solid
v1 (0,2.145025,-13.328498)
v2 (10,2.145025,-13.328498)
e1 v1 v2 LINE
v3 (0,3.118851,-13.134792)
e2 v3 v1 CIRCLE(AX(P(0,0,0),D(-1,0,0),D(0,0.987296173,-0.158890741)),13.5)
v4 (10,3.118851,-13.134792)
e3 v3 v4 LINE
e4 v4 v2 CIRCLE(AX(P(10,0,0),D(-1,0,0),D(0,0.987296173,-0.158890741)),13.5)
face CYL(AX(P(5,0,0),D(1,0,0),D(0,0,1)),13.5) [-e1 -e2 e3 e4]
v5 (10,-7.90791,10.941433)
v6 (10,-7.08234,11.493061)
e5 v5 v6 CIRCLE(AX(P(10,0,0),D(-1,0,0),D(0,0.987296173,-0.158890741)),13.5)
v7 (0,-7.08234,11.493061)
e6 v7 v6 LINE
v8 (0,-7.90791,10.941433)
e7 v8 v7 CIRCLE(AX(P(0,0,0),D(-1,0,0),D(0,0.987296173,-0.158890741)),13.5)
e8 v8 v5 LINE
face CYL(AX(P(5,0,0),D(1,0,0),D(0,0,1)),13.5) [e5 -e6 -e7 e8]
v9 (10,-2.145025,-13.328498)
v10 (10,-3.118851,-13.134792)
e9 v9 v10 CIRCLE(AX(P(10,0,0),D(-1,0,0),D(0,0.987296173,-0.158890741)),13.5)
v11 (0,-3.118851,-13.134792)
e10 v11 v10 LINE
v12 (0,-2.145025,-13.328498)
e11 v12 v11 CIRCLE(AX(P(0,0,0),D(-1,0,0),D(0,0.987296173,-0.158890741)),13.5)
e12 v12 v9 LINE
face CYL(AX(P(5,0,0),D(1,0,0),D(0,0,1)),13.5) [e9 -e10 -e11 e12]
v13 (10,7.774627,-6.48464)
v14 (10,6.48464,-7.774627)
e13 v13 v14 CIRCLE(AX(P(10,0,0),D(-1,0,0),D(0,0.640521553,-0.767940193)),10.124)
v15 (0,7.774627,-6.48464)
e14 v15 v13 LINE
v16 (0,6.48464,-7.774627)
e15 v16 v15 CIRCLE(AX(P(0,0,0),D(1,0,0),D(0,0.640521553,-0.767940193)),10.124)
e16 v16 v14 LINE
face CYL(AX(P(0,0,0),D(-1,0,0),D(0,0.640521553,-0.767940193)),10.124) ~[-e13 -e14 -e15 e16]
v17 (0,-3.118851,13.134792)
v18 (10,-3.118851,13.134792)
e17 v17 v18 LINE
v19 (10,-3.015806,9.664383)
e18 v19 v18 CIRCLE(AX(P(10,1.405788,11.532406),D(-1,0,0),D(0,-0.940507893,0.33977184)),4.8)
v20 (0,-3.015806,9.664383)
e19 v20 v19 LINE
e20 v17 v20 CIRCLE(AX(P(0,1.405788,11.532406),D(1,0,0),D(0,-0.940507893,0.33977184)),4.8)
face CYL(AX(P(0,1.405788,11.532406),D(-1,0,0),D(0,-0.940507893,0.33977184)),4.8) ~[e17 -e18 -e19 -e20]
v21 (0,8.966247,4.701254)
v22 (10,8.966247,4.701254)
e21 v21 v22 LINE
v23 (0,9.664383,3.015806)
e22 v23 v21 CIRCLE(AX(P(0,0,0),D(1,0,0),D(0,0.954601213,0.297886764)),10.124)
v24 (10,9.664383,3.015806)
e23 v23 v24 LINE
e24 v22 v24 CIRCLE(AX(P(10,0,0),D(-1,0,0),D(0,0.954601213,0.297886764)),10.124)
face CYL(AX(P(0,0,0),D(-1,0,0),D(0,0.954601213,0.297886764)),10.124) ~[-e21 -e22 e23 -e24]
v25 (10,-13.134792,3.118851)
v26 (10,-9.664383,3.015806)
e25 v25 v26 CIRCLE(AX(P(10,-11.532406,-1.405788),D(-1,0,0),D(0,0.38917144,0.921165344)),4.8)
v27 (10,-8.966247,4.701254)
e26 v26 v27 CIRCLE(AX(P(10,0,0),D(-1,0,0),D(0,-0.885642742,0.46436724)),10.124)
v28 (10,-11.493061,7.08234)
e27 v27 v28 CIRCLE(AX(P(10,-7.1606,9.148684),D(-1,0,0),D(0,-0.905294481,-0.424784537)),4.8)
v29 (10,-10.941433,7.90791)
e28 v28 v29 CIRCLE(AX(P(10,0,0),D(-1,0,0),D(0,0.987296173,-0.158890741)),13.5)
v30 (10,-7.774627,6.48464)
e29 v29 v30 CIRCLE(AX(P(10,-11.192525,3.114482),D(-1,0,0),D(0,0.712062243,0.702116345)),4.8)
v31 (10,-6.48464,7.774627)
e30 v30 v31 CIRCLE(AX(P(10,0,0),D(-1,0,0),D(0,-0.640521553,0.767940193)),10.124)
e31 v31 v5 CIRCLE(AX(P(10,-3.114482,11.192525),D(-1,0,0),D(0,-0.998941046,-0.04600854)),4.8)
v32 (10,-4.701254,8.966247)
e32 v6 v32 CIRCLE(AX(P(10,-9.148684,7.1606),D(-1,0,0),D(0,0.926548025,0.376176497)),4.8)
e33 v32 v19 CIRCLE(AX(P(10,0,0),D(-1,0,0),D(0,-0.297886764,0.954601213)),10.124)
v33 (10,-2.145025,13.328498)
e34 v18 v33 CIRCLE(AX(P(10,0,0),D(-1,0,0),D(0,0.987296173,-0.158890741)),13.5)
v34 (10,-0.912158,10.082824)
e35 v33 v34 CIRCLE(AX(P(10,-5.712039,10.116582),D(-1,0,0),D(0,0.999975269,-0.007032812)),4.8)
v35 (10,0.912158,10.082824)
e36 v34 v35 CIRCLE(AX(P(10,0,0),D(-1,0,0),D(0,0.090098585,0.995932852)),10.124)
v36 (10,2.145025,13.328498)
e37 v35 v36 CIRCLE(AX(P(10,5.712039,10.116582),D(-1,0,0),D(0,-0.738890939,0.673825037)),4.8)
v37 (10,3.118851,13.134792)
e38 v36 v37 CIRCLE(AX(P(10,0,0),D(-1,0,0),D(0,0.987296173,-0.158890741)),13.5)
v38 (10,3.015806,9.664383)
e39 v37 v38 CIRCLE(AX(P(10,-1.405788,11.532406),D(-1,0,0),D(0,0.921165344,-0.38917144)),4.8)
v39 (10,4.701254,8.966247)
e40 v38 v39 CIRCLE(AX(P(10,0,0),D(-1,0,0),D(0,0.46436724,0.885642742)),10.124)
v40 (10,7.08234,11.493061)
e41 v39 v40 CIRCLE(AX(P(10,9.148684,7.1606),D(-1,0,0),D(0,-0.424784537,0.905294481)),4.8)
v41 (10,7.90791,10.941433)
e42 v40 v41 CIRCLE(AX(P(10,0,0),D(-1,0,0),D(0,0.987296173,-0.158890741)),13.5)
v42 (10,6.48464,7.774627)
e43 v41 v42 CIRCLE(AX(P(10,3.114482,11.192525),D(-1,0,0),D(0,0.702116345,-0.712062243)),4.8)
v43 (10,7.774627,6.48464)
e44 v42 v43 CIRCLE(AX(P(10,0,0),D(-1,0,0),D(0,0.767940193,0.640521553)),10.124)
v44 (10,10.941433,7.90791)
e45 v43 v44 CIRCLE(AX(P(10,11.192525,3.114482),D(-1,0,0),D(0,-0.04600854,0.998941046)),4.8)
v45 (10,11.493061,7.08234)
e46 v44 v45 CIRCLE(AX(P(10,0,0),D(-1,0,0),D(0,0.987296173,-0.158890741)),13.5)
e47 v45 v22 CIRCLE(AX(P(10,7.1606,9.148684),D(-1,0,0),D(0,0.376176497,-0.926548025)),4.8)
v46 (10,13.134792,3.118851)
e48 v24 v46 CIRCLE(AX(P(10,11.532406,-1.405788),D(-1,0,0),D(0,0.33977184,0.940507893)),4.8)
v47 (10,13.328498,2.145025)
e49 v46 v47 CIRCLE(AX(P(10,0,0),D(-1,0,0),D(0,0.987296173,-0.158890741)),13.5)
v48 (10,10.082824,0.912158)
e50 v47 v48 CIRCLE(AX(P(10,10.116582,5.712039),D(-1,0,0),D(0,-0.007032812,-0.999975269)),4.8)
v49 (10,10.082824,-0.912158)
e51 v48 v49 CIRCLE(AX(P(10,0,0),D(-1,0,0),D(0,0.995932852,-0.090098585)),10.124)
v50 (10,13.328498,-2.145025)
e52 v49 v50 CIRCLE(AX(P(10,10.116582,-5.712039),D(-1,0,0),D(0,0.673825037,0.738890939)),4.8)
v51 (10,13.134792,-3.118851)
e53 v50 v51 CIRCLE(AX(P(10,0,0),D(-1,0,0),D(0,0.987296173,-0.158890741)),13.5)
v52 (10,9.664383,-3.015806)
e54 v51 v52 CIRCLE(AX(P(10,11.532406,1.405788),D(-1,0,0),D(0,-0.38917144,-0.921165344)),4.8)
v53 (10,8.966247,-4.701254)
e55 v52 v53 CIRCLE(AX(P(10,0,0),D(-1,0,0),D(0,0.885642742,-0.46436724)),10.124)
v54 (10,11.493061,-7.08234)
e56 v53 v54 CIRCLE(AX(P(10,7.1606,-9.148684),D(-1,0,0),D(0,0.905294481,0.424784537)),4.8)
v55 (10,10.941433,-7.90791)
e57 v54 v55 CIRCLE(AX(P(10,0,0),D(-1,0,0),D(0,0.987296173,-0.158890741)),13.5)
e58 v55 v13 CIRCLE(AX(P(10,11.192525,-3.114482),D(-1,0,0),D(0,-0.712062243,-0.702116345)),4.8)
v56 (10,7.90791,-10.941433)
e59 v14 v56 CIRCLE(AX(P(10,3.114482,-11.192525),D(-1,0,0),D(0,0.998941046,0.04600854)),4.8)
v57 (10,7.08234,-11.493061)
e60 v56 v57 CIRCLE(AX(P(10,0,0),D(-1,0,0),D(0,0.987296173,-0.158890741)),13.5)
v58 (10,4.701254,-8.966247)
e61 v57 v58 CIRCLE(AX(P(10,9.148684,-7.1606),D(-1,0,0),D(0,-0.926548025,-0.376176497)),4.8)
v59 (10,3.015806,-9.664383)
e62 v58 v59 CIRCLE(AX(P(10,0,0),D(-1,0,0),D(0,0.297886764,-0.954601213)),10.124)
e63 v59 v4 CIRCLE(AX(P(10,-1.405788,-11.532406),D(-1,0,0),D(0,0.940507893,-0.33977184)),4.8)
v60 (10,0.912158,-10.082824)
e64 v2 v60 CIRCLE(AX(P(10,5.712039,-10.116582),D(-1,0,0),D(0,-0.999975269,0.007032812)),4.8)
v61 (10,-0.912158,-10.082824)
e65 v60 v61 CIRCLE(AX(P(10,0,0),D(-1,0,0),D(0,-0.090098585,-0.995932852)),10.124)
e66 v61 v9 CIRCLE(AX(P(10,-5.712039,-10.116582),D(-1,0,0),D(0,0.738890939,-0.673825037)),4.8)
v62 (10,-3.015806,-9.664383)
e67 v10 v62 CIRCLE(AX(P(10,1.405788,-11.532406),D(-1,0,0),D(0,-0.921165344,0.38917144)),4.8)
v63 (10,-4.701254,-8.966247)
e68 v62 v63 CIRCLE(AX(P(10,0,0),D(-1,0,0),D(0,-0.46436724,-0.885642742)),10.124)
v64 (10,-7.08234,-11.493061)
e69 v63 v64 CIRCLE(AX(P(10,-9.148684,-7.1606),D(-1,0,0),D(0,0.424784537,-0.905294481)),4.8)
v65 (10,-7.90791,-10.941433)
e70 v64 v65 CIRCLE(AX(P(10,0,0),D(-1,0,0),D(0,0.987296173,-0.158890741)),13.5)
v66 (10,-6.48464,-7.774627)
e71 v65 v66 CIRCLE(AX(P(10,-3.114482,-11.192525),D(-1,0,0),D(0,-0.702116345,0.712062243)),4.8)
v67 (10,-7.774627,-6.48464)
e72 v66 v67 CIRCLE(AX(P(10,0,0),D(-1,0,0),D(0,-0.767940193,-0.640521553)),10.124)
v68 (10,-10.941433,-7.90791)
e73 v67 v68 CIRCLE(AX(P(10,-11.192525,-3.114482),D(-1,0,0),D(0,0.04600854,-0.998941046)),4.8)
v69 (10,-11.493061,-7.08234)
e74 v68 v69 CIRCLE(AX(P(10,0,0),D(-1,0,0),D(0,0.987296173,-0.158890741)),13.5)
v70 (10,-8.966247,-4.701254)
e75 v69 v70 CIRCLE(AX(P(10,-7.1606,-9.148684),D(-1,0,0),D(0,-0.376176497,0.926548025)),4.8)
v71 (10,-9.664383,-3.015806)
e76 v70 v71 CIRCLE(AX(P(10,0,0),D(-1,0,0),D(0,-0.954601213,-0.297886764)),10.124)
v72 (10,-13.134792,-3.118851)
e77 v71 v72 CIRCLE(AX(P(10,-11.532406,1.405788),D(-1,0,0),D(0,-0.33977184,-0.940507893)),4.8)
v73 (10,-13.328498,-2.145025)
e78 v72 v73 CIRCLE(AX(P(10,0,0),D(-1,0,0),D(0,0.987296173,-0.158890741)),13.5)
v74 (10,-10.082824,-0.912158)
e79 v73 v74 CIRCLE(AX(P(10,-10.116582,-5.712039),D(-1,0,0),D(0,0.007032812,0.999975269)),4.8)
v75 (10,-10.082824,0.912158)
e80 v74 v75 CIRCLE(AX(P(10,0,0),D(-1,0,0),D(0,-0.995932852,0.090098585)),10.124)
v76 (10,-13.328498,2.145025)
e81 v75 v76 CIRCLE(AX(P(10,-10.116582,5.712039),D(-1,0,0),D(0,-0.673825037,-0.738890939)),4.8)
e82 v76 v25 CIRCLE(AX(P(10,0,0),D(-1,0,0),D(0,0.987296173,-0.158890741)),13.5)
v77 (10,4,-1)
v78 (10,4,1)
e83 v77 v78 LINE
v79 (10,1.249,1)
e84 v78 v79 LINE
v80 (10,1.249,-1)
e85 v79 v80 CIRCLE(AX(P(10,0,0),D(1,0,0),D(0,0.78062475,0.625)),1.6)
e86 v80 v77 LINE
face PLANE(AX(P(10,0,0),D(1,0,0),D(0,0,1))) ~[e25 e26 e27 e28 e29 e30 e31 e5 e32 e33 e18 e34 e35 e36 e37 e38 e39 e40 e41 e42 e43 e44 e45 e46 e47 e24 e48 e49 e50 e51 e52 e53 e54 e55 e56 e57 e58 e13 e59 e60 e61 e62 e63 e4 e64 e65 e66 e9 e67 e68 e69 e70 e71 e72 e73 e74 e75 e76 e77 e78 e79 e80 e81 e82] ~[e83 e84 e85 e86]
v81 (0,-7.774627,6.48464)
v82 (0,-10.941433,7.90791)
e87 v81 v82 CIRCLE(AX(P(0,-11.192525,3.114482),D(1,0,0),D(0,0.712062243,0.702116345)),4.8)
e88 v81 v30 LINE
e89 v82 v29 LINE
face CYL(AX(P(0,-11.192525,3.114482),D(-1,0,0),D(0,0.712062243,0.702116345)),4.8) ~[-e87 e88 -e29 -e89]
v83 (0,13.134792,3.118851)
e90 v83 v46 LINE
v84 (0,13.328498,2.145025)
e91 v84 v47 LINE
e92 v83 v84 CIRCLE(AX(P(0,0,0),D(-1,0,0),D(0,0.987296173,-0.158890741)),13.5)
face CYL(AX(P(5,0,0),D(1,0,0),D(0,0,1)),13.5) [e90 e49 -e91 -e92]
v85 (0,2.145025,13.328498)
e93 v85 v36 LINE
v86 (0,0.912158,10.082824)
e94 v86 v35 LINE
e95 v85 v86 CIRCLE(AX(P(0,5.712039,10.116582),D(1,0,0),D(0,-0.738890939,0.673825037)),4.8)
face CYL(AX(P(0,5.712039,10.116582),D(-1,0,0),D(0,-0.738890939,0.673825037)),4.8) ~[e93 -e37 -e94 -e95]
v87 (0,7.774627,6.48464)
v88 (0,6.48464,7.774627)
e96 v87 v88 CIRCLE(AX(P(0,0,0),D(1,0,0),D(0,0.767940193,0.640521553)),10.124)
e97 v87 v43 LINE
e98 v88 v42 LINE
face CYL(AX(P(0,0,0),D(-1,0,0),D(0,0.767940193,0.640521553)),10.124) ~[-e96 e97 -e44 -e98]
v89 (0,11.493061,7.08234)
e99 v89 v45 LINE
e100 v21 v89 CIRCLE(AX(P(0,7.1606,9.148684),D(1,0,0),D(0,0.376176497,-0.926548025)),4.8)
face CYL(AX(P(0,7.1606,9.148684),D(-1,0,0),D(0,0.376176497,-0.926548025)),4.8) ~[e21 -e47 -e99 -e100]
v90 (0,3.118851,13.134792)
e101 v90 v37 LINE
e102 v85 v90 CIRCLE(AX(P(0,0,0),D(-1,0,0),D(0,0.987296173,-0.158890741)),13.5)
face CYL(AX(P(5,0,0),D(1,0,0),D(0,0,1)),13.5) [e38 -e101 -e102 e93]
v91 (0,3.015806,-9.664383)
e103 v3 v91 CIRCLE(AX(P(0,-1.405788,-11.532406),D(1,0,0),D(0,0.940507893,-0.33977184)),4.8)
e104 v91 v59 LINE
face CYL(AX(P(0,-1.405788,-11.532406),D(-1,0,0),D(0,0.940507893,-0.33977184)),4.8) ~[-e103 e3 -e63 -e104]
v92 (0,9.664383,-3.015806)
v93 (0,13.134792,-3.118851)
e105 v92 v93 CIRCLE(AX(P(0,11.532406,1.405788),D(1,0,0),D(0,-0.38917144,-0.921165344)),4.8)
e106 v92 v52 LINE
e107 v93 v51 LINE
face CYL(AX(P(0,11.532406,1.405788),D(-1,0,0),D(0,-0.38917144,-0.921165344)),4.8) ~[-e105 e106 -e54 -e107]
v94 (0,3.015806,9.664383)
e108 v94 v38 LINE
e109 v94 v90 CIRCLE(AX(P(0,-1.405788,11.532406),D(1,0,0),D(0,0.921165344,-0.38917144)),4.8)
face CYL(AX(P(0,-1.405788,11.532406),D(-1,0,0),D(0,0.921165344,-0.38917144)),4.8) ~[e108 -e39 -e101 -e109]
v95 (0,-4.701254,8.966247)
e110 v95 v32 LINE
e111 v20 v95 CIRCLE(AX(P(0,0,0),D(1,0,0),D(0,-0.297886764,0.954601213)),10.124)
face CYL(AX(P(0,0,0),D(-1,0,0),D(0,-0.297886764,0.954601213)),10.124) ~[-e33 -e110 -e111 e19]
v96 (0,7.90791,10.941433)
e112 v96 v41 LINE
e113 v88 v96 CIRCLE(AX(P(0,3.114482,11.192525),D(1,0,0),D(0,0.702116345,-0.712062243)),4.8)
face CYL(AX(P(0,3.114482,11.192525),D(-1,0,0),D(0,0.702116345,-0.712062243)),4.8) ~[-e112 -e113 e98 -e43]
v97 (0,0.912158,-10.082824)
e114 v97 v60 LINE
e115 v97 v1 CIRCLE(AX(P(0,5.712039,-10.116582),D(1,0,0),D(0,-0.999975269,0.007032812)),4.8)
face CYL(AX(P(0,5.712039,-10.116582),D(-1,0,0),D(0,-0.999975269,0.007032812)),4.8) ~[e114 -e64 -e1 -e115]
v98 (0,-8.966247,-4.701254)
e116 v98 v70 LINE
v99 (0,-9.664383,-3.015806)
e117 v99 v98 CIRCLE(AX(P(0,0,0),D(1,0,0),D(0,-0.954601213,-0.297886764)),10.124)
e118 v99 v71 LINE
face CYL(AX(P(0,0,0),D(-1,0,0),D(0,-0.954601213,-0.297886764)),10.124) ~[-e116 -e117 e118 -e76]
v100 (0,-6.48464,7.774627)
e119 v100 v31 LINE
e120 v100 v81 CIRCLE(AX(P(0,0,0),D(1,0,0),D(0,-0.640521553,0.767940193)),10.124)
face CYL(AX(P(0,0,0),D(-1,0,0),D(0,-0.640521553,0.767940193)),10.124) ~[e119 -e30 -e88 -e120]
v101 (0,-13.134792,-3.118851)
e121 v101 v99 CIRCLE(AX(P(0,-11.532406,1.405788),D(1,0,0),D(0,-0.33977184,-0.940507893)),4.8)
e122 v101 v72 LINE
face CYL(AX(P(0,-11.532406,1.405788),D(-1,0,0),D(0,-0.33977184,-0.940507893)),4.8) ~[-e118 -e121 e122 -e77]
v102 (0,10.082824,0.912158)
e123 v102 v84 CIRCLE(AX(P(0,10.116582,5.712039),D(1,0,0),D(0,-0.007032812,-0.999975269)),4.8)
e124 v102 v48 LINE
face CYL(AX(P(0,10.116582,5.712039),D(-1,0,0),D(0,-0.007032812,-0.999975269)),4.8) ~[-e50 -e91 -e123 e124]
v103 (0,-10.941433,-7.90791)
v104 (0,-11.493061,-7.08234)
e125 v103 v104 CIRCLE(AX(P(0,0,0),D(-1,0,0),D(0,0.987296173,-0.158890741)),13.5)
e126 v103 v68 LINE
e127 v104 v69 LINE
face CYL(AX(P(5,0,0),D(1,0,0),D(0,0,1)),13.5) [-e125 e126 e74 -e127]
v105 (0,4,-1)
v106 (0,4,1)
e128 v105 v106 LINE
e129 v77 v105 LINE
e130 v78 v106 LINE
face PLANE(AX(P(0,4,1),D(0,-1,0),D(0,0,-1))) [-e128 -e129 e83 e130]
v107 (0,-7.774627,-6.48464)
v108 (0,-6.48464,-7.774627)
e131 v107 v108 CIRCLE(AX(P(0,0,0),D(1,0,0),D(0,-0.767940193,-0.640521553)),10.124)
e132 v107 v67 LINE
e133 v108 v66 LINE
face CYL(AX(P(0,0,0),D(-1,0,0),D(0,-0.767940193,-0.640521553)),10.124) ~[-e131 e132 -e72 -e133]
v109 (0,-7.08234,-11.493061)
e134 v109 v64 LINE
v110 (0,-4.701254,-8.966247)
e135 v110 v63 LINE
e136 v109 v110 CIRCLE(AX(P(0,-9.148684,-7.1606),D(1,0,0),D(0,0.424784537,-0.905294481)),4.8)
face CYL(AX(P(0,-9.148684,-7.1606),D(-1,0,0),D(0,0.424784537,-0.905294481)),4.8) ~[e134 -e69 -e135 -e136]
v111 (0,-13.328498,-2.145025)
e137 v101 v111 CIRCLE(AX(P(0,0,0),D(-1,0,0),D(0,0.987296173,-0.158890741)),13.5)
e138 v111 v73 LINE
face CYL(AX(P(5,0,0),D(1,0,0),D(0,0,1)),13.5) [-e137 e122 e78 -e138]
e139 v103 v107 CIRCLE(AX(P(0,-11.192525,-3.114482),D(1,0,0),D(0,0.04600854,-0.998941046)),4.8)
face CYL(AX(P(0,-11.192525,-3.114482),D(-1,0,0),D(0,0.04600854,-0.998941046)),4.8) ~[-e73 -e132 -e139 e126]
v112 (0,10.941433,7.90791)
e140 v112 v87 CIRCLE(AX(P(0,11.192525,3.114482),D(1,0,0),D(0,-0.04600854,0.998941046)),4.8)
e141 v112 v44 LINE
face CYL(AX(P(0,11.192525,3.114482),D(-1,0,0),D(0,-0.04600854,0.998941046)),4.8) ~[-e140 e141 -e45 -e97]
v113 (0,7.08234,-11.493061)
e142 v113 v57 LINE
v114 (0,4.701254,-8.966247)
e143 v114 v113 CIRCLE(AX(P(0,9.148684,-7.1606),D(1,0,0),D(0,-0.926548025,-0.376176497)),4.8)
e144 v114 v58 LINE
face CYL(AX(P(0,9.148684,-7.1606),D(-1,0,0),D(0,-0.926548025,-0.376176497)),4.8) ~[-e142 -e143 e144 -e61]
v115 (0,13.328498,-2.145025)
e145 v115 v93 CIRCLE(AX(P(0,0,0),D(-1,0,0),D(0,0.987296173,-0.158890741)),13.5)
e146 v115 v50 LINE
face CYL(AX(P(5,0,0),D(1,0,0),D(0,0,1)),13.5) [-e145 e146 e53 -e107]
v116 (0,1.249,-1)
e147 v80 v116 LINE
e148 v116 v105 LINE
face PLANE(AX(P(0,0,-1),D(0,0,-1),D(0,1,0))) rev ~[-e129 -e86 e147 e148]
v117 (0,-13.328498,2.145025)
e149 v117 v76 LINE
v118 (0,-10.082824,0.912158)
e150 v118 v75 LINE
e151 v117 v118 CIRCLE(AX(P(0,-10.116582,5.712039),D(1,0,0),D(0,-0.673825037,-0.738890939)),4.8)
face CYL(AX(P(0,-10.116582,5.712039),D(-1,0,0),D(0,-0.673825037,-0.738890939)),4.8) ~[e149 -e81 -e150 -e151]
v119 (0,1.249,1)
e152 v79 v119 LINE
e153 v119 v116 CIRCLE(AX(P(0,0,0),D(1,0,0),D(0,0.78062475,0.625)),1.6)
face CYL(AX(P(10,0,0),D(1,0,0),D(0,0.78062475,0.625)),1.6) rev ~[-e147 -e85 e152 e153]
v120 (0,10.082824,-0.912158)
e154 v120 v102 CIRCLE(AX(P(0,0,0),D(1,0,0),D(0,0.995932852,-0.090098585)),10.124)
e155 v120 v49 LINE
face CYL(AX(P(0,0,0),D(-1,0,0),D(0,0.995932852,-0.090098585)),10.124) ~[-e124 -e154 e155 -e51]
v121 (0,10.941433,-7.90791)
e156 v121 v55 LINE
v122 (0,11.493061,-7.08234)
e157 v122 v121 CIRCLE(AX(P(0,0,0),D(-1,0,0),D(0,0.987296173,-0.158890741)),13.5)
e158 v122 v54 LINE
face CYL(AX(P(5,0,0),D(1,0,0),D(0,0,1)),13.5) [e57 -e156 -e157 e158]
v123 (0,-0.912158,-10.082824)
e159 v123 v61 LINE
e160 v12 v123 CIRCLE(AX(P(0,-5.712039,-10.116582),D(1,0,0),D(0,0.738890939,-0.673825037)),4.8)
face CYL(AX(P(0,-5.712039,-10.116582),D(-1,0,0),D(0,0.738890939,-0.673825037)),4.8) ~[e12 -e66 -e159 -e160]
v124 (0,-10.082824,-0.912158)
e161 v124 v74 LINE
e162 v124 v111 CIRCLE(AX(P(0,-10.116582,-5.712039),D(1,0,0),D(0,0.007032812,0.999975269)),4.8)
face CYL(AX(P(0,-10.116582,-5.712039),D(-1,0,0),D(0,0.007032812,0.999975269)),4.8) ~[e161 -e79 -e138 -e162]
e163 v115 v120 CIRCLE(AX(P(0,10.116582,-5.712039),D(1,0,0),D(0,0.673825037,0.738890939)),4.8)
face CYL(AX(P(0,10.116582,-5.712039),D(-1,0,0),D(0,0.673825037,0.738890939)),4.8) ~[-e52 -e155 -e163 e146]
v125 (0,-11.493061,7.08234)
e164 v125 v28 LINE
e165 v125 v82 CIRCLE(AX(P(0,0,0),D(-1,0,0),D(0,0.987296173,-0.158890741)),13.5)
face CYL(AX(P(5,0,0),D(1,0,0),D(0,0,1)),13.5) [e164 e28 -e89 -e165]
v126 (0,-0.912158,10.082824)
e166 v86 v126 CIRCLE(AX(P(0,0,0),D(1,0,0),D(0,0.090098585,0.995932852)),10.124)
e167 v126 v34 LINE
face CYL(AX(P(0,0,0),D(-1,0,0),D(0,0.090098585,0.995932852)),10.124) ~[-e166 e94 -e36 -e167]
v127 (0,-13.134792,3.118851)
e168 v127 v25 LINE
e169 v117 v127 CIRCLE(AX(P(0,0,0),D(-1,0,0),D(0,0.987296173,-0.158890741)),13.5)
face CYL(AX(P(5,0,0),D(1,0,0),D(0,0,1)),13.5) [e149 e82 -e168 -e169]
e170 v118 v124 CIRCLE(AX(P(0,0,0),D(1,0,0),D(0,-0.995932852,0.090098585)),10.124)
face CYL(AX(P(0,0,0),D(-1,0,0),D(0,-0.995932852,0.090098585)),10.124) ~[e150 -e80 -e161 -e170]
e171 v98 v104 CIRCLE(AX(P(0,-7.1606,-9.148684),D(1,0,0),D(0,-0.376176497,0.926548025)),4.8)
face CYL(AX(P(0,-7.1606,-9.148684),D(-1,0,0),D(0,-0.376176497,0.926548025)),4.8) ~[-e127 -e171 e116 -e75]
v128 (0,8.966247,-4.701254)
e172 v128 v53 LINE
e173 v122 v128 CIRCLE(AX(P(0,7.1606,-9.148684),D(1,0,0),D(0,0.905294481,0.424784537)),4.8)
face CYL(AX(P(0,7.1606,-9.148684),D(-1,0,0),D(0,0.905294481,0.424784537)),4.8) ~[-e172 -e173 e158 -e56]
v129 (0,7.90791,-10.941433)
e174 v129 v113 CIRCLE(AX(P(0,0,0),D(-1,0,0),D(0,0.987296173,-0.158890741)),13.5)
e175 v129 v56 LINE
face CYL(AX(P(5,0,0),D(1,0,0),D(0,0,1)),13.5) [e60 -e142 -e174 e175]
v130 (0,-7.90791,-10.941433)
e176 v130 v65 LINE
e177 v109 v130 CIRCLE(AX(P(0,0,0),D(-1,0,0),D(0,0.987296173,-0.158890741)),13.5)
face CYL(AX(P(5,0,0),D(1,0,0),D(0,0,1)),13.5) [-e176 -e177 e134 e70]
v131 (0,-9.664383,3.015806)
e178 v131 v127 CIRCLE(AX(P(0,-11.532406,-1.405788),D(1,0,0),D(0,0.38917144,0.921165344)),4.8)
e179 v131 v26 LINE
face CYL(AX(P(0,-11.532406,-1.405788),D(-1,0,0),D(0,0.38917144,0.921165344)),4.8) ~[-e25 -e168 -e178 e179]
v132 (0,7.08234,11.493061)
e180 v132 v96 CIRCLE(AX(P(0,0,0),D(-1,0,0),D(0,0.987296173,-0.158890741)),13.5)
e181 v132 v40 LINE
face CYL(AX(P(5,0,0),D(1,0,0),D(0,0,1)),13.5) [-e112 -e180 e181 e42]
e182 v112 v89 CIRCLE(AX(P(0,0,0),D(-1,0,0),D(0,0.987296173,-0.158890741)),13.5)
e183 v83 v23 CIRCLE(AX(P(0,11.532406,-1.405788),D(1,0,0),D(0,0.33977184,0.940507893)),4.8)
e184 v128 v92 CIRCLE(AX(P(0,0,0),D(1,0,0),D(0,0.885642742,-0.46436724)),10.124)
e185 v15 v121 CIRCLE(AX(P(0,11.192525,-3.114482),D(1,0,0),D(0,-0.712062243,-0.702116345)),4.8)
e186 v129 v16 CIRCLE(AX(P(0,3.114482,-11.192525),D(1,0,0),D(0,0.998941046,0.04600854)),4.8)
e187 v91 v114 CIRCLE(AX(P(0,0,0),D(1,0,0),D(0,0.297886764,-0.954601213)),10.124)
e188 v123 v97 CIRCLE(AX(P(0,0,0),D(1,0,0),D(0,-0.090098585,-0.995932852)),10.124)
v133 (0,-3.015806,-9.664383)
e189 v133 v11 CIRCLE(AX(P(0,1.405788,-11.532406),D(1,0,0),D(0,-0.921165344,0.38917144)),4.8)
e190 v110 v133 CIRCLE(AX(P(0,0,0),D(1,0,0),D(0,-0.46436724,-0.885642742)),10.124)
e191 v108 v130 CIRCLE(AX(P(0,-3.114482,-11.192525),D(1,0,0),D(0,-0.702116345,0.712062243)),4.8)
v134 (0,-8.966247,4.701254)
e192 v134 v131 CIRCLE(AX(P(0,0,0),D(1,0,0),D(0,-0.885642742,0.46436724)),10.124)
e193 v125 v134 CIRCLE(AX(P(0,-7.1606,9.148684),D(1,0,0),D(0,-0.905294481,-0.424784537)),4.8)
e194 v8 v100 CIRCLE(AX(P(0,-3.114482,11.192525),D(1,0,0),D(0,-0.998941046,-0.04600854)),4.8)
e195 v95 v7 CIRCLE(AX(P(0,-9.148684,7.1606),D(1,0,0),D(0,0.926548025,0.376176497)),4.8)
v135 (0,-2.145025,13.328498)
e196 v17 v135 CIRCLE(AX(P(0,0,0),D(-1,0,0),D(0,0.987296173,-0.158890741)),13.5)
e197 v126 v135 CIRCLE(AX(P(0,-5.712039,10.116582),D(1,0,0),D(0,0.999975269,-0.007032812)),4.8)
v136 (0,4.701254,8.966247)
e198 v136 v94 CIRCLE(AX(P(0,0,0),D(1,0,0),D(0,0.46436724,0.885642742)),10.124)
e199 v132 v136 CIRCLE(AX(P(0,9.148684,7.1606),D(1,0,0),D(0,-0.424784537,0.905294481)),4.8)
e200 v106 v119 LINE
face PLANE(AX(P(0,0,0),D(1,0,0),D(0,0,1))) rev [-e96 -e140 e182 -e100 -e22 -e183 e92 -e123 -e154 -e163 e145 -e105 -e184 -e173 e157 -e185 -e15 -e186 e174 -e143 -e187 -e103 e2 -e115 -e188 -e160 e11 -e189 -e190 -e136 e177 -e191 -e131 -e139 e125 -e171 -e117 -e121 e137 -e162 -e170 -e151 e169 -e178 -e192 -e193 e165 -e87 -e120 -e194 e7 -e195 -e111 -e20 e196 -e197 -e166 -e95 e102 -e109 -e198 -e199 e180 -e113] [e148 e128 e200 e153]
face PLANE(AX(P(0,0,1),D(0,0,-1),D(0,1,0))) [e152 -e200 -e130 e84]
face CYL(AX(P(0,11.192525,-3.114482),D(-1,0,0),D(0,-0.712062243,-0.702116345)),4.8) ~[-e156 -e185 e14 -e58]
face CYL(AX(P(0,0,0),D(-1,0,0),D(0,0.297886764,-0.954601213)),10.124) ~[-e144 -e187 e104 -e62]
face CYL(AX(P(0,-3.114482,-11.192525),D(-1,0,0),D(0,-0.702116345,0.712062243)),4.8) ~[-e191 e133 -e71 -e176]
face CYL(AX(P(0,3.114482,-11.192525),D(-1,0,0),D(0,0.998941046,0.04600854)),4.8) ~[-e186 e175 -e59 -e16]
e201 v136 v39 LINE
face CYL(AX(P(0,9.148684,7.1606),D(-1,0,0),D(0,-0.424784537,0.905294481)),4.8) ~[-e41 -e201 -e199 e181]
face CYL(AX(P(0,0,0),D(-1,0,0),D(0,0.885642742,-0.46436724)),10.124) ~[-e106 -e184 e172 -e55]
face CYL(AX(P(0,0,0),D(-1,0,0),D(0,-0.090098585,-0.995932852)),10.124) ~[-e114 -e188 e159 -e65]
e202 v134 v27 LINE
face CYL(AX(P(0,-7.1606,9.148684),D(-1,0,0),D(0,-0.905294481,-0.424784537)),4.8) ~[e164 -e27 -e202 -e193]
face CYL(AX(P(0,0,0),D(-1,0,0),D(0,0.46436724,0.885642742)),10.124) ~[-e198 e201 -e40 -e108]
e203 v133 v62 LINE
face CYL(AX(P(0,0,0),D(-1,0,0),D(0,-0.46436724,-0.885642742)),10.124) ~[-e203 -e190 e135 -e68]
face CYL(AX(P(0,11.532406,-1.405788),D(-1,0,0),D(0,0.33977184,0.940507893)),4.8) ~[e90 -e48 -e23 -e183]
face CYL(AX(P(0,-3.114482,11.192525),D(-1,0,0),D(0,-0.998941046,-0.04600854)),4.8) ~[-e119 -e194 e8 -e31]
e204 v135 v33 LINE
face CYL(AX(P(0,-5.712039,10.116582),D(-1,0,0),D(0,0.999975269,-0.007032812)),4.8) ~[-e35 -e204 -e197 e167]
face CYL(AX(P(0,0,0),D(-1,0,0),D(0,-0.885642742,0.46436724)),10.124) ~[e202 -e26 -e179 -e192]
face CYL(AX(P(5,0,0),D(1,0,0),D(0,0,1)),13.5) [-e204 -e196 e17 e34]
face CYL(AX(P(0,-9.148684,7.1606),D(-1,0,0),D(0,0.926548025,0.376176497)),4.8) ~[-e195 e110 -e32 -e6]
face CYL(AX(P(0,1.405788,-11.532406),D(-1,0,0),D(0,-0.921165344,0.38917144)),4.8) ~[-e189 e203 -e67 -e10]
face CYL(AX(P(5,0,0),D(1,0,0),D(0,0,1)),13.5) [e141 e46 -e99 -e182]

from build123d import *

# Parameters (mm, degrees)
BASPROSKE_W         = 10
BASPROSKE_H         = 13.5
TOOTHCUT_DEPTH      = 22.552262062
TEETHCUTS_COUNT     = 16
TEETHCUTS_ANGLE     = 337.5
BORSKE_R            = 3
BORE_DEPTH          = 50.0000508
KEYSKE_W            = 2
KEYSKE_H            = 4
KEYWAY_DEPTH        = 50.0000508
SKETCH1_R           = 5.698738584
BOSS_EXTRUDE1_DEPTH = 10


with BuildPart() as part:
    # BasProSke → Base-Revolve (revolve)
    with BuildSketch(Plane(origin=(0, 0, 0), x_dir=(1, 0, 0), z_dir=(0, 1, 0)), mode=Mode.PRIVATE) as base_revolve_sk:
        with Locations((5, 6.75)):
            Rectangle(BASPROSKE_W, BASPROSKE_H)
    revolve(base_revolve_sk.sketch.rotate(Axis((-10, 0, 0), (1, 0, 0)), 180), axis=Axis((-10, 0, 0), (1, 0, 0)))

    # TooCutSke → ToothCut (cut, through all)
    with BuildSketch(Plane(origin=(0, 0, 0), x_dir=(0, 0, -1), z_dir=(1, 0, 0))):
        with BuildLine():
            ThreePointArc((0.91215808, 10.08282419), (0, 10.124), (-0.91215808, 10.08282419))
            ThreePointArc((-0.91215808, 10.08282419), (-1.23025345, 11.835184302), (-2.165362868, 13.35094187))
            ThreePointArc((-2.165362868, 13.35094187), (0, 13.5254), (2.165362868, 13.35094187))
            ThreePointArc((2.165362868, 13.35094187), (1.23025345, 11.835184302), (0.91215808, 10.08282419))
        make_face()
    toothcut = extrude(amount=TOOTHCUT_DEPTH, mode=Mode.SUBTRACT)

    # TeethCuts: ToothCut ×16 about axis
    teethcuts_axis = Axis((-10, 0, 0), (1, 0, 0))
    for i in range(1, TEETHCUTS_COUNT):
        add(toothcut.rotate(teethcuts_axis, i * TEETHCUTS_ANGLE / (TEETHCUTS_COUNT - 1)), mode=Mode.SUBTRACT)

    # BorSke → Bore (cut, symmetric)
    with BuildSketch(Plane(origin=(0, 0, 0), x_dir=(0, 0, -1), z_dir=(1, 0, 0))):
        with Locations(Location((0, 0, 0), (0, 0, 180))):
            Circle(BORSKE_R)
    extrude(amount=BORE_DEPTH, both=True, mode=Mode.SUBTRACT)

    # KeySke → Keyway (cut, symmetric)
    with BuildSketch(Plane(origin=(0, 0, 0), x_dir=(0, 0, -1), z_dir=(1, 0, 0))):
        with Locations((0, 2)):
            Rectangle(KEYSKE_W, KEYSKE_H)
    extrude(amount=KEYWAY_DEPTH, both=True, mode=Mode.SUBTRACT)

    # Sketch1 → Boss-Extrude1 (add, through all)
    with BuildSketch(Plane(origin=(10, 0, 0), x_dir=(0, 0, -1), z_dir=(1, 0, 0))):
        Circle(SKETCH1_R)
        with BuildLine():
            Line((-1, 4), (-1, 1.2489996))
            ThreePointArc((-1, 1.2489996), (0, -1.6), (1, 1.2489996))
            Line((1, 1.2489996), (1, 4))
            Line((1, 4), (-1, 4))
        make_face(mode=Mode.SUBTRACT)
    extrude(amount=-BOSS_EXTRUDE1_DEPTH)


solid = part.part
